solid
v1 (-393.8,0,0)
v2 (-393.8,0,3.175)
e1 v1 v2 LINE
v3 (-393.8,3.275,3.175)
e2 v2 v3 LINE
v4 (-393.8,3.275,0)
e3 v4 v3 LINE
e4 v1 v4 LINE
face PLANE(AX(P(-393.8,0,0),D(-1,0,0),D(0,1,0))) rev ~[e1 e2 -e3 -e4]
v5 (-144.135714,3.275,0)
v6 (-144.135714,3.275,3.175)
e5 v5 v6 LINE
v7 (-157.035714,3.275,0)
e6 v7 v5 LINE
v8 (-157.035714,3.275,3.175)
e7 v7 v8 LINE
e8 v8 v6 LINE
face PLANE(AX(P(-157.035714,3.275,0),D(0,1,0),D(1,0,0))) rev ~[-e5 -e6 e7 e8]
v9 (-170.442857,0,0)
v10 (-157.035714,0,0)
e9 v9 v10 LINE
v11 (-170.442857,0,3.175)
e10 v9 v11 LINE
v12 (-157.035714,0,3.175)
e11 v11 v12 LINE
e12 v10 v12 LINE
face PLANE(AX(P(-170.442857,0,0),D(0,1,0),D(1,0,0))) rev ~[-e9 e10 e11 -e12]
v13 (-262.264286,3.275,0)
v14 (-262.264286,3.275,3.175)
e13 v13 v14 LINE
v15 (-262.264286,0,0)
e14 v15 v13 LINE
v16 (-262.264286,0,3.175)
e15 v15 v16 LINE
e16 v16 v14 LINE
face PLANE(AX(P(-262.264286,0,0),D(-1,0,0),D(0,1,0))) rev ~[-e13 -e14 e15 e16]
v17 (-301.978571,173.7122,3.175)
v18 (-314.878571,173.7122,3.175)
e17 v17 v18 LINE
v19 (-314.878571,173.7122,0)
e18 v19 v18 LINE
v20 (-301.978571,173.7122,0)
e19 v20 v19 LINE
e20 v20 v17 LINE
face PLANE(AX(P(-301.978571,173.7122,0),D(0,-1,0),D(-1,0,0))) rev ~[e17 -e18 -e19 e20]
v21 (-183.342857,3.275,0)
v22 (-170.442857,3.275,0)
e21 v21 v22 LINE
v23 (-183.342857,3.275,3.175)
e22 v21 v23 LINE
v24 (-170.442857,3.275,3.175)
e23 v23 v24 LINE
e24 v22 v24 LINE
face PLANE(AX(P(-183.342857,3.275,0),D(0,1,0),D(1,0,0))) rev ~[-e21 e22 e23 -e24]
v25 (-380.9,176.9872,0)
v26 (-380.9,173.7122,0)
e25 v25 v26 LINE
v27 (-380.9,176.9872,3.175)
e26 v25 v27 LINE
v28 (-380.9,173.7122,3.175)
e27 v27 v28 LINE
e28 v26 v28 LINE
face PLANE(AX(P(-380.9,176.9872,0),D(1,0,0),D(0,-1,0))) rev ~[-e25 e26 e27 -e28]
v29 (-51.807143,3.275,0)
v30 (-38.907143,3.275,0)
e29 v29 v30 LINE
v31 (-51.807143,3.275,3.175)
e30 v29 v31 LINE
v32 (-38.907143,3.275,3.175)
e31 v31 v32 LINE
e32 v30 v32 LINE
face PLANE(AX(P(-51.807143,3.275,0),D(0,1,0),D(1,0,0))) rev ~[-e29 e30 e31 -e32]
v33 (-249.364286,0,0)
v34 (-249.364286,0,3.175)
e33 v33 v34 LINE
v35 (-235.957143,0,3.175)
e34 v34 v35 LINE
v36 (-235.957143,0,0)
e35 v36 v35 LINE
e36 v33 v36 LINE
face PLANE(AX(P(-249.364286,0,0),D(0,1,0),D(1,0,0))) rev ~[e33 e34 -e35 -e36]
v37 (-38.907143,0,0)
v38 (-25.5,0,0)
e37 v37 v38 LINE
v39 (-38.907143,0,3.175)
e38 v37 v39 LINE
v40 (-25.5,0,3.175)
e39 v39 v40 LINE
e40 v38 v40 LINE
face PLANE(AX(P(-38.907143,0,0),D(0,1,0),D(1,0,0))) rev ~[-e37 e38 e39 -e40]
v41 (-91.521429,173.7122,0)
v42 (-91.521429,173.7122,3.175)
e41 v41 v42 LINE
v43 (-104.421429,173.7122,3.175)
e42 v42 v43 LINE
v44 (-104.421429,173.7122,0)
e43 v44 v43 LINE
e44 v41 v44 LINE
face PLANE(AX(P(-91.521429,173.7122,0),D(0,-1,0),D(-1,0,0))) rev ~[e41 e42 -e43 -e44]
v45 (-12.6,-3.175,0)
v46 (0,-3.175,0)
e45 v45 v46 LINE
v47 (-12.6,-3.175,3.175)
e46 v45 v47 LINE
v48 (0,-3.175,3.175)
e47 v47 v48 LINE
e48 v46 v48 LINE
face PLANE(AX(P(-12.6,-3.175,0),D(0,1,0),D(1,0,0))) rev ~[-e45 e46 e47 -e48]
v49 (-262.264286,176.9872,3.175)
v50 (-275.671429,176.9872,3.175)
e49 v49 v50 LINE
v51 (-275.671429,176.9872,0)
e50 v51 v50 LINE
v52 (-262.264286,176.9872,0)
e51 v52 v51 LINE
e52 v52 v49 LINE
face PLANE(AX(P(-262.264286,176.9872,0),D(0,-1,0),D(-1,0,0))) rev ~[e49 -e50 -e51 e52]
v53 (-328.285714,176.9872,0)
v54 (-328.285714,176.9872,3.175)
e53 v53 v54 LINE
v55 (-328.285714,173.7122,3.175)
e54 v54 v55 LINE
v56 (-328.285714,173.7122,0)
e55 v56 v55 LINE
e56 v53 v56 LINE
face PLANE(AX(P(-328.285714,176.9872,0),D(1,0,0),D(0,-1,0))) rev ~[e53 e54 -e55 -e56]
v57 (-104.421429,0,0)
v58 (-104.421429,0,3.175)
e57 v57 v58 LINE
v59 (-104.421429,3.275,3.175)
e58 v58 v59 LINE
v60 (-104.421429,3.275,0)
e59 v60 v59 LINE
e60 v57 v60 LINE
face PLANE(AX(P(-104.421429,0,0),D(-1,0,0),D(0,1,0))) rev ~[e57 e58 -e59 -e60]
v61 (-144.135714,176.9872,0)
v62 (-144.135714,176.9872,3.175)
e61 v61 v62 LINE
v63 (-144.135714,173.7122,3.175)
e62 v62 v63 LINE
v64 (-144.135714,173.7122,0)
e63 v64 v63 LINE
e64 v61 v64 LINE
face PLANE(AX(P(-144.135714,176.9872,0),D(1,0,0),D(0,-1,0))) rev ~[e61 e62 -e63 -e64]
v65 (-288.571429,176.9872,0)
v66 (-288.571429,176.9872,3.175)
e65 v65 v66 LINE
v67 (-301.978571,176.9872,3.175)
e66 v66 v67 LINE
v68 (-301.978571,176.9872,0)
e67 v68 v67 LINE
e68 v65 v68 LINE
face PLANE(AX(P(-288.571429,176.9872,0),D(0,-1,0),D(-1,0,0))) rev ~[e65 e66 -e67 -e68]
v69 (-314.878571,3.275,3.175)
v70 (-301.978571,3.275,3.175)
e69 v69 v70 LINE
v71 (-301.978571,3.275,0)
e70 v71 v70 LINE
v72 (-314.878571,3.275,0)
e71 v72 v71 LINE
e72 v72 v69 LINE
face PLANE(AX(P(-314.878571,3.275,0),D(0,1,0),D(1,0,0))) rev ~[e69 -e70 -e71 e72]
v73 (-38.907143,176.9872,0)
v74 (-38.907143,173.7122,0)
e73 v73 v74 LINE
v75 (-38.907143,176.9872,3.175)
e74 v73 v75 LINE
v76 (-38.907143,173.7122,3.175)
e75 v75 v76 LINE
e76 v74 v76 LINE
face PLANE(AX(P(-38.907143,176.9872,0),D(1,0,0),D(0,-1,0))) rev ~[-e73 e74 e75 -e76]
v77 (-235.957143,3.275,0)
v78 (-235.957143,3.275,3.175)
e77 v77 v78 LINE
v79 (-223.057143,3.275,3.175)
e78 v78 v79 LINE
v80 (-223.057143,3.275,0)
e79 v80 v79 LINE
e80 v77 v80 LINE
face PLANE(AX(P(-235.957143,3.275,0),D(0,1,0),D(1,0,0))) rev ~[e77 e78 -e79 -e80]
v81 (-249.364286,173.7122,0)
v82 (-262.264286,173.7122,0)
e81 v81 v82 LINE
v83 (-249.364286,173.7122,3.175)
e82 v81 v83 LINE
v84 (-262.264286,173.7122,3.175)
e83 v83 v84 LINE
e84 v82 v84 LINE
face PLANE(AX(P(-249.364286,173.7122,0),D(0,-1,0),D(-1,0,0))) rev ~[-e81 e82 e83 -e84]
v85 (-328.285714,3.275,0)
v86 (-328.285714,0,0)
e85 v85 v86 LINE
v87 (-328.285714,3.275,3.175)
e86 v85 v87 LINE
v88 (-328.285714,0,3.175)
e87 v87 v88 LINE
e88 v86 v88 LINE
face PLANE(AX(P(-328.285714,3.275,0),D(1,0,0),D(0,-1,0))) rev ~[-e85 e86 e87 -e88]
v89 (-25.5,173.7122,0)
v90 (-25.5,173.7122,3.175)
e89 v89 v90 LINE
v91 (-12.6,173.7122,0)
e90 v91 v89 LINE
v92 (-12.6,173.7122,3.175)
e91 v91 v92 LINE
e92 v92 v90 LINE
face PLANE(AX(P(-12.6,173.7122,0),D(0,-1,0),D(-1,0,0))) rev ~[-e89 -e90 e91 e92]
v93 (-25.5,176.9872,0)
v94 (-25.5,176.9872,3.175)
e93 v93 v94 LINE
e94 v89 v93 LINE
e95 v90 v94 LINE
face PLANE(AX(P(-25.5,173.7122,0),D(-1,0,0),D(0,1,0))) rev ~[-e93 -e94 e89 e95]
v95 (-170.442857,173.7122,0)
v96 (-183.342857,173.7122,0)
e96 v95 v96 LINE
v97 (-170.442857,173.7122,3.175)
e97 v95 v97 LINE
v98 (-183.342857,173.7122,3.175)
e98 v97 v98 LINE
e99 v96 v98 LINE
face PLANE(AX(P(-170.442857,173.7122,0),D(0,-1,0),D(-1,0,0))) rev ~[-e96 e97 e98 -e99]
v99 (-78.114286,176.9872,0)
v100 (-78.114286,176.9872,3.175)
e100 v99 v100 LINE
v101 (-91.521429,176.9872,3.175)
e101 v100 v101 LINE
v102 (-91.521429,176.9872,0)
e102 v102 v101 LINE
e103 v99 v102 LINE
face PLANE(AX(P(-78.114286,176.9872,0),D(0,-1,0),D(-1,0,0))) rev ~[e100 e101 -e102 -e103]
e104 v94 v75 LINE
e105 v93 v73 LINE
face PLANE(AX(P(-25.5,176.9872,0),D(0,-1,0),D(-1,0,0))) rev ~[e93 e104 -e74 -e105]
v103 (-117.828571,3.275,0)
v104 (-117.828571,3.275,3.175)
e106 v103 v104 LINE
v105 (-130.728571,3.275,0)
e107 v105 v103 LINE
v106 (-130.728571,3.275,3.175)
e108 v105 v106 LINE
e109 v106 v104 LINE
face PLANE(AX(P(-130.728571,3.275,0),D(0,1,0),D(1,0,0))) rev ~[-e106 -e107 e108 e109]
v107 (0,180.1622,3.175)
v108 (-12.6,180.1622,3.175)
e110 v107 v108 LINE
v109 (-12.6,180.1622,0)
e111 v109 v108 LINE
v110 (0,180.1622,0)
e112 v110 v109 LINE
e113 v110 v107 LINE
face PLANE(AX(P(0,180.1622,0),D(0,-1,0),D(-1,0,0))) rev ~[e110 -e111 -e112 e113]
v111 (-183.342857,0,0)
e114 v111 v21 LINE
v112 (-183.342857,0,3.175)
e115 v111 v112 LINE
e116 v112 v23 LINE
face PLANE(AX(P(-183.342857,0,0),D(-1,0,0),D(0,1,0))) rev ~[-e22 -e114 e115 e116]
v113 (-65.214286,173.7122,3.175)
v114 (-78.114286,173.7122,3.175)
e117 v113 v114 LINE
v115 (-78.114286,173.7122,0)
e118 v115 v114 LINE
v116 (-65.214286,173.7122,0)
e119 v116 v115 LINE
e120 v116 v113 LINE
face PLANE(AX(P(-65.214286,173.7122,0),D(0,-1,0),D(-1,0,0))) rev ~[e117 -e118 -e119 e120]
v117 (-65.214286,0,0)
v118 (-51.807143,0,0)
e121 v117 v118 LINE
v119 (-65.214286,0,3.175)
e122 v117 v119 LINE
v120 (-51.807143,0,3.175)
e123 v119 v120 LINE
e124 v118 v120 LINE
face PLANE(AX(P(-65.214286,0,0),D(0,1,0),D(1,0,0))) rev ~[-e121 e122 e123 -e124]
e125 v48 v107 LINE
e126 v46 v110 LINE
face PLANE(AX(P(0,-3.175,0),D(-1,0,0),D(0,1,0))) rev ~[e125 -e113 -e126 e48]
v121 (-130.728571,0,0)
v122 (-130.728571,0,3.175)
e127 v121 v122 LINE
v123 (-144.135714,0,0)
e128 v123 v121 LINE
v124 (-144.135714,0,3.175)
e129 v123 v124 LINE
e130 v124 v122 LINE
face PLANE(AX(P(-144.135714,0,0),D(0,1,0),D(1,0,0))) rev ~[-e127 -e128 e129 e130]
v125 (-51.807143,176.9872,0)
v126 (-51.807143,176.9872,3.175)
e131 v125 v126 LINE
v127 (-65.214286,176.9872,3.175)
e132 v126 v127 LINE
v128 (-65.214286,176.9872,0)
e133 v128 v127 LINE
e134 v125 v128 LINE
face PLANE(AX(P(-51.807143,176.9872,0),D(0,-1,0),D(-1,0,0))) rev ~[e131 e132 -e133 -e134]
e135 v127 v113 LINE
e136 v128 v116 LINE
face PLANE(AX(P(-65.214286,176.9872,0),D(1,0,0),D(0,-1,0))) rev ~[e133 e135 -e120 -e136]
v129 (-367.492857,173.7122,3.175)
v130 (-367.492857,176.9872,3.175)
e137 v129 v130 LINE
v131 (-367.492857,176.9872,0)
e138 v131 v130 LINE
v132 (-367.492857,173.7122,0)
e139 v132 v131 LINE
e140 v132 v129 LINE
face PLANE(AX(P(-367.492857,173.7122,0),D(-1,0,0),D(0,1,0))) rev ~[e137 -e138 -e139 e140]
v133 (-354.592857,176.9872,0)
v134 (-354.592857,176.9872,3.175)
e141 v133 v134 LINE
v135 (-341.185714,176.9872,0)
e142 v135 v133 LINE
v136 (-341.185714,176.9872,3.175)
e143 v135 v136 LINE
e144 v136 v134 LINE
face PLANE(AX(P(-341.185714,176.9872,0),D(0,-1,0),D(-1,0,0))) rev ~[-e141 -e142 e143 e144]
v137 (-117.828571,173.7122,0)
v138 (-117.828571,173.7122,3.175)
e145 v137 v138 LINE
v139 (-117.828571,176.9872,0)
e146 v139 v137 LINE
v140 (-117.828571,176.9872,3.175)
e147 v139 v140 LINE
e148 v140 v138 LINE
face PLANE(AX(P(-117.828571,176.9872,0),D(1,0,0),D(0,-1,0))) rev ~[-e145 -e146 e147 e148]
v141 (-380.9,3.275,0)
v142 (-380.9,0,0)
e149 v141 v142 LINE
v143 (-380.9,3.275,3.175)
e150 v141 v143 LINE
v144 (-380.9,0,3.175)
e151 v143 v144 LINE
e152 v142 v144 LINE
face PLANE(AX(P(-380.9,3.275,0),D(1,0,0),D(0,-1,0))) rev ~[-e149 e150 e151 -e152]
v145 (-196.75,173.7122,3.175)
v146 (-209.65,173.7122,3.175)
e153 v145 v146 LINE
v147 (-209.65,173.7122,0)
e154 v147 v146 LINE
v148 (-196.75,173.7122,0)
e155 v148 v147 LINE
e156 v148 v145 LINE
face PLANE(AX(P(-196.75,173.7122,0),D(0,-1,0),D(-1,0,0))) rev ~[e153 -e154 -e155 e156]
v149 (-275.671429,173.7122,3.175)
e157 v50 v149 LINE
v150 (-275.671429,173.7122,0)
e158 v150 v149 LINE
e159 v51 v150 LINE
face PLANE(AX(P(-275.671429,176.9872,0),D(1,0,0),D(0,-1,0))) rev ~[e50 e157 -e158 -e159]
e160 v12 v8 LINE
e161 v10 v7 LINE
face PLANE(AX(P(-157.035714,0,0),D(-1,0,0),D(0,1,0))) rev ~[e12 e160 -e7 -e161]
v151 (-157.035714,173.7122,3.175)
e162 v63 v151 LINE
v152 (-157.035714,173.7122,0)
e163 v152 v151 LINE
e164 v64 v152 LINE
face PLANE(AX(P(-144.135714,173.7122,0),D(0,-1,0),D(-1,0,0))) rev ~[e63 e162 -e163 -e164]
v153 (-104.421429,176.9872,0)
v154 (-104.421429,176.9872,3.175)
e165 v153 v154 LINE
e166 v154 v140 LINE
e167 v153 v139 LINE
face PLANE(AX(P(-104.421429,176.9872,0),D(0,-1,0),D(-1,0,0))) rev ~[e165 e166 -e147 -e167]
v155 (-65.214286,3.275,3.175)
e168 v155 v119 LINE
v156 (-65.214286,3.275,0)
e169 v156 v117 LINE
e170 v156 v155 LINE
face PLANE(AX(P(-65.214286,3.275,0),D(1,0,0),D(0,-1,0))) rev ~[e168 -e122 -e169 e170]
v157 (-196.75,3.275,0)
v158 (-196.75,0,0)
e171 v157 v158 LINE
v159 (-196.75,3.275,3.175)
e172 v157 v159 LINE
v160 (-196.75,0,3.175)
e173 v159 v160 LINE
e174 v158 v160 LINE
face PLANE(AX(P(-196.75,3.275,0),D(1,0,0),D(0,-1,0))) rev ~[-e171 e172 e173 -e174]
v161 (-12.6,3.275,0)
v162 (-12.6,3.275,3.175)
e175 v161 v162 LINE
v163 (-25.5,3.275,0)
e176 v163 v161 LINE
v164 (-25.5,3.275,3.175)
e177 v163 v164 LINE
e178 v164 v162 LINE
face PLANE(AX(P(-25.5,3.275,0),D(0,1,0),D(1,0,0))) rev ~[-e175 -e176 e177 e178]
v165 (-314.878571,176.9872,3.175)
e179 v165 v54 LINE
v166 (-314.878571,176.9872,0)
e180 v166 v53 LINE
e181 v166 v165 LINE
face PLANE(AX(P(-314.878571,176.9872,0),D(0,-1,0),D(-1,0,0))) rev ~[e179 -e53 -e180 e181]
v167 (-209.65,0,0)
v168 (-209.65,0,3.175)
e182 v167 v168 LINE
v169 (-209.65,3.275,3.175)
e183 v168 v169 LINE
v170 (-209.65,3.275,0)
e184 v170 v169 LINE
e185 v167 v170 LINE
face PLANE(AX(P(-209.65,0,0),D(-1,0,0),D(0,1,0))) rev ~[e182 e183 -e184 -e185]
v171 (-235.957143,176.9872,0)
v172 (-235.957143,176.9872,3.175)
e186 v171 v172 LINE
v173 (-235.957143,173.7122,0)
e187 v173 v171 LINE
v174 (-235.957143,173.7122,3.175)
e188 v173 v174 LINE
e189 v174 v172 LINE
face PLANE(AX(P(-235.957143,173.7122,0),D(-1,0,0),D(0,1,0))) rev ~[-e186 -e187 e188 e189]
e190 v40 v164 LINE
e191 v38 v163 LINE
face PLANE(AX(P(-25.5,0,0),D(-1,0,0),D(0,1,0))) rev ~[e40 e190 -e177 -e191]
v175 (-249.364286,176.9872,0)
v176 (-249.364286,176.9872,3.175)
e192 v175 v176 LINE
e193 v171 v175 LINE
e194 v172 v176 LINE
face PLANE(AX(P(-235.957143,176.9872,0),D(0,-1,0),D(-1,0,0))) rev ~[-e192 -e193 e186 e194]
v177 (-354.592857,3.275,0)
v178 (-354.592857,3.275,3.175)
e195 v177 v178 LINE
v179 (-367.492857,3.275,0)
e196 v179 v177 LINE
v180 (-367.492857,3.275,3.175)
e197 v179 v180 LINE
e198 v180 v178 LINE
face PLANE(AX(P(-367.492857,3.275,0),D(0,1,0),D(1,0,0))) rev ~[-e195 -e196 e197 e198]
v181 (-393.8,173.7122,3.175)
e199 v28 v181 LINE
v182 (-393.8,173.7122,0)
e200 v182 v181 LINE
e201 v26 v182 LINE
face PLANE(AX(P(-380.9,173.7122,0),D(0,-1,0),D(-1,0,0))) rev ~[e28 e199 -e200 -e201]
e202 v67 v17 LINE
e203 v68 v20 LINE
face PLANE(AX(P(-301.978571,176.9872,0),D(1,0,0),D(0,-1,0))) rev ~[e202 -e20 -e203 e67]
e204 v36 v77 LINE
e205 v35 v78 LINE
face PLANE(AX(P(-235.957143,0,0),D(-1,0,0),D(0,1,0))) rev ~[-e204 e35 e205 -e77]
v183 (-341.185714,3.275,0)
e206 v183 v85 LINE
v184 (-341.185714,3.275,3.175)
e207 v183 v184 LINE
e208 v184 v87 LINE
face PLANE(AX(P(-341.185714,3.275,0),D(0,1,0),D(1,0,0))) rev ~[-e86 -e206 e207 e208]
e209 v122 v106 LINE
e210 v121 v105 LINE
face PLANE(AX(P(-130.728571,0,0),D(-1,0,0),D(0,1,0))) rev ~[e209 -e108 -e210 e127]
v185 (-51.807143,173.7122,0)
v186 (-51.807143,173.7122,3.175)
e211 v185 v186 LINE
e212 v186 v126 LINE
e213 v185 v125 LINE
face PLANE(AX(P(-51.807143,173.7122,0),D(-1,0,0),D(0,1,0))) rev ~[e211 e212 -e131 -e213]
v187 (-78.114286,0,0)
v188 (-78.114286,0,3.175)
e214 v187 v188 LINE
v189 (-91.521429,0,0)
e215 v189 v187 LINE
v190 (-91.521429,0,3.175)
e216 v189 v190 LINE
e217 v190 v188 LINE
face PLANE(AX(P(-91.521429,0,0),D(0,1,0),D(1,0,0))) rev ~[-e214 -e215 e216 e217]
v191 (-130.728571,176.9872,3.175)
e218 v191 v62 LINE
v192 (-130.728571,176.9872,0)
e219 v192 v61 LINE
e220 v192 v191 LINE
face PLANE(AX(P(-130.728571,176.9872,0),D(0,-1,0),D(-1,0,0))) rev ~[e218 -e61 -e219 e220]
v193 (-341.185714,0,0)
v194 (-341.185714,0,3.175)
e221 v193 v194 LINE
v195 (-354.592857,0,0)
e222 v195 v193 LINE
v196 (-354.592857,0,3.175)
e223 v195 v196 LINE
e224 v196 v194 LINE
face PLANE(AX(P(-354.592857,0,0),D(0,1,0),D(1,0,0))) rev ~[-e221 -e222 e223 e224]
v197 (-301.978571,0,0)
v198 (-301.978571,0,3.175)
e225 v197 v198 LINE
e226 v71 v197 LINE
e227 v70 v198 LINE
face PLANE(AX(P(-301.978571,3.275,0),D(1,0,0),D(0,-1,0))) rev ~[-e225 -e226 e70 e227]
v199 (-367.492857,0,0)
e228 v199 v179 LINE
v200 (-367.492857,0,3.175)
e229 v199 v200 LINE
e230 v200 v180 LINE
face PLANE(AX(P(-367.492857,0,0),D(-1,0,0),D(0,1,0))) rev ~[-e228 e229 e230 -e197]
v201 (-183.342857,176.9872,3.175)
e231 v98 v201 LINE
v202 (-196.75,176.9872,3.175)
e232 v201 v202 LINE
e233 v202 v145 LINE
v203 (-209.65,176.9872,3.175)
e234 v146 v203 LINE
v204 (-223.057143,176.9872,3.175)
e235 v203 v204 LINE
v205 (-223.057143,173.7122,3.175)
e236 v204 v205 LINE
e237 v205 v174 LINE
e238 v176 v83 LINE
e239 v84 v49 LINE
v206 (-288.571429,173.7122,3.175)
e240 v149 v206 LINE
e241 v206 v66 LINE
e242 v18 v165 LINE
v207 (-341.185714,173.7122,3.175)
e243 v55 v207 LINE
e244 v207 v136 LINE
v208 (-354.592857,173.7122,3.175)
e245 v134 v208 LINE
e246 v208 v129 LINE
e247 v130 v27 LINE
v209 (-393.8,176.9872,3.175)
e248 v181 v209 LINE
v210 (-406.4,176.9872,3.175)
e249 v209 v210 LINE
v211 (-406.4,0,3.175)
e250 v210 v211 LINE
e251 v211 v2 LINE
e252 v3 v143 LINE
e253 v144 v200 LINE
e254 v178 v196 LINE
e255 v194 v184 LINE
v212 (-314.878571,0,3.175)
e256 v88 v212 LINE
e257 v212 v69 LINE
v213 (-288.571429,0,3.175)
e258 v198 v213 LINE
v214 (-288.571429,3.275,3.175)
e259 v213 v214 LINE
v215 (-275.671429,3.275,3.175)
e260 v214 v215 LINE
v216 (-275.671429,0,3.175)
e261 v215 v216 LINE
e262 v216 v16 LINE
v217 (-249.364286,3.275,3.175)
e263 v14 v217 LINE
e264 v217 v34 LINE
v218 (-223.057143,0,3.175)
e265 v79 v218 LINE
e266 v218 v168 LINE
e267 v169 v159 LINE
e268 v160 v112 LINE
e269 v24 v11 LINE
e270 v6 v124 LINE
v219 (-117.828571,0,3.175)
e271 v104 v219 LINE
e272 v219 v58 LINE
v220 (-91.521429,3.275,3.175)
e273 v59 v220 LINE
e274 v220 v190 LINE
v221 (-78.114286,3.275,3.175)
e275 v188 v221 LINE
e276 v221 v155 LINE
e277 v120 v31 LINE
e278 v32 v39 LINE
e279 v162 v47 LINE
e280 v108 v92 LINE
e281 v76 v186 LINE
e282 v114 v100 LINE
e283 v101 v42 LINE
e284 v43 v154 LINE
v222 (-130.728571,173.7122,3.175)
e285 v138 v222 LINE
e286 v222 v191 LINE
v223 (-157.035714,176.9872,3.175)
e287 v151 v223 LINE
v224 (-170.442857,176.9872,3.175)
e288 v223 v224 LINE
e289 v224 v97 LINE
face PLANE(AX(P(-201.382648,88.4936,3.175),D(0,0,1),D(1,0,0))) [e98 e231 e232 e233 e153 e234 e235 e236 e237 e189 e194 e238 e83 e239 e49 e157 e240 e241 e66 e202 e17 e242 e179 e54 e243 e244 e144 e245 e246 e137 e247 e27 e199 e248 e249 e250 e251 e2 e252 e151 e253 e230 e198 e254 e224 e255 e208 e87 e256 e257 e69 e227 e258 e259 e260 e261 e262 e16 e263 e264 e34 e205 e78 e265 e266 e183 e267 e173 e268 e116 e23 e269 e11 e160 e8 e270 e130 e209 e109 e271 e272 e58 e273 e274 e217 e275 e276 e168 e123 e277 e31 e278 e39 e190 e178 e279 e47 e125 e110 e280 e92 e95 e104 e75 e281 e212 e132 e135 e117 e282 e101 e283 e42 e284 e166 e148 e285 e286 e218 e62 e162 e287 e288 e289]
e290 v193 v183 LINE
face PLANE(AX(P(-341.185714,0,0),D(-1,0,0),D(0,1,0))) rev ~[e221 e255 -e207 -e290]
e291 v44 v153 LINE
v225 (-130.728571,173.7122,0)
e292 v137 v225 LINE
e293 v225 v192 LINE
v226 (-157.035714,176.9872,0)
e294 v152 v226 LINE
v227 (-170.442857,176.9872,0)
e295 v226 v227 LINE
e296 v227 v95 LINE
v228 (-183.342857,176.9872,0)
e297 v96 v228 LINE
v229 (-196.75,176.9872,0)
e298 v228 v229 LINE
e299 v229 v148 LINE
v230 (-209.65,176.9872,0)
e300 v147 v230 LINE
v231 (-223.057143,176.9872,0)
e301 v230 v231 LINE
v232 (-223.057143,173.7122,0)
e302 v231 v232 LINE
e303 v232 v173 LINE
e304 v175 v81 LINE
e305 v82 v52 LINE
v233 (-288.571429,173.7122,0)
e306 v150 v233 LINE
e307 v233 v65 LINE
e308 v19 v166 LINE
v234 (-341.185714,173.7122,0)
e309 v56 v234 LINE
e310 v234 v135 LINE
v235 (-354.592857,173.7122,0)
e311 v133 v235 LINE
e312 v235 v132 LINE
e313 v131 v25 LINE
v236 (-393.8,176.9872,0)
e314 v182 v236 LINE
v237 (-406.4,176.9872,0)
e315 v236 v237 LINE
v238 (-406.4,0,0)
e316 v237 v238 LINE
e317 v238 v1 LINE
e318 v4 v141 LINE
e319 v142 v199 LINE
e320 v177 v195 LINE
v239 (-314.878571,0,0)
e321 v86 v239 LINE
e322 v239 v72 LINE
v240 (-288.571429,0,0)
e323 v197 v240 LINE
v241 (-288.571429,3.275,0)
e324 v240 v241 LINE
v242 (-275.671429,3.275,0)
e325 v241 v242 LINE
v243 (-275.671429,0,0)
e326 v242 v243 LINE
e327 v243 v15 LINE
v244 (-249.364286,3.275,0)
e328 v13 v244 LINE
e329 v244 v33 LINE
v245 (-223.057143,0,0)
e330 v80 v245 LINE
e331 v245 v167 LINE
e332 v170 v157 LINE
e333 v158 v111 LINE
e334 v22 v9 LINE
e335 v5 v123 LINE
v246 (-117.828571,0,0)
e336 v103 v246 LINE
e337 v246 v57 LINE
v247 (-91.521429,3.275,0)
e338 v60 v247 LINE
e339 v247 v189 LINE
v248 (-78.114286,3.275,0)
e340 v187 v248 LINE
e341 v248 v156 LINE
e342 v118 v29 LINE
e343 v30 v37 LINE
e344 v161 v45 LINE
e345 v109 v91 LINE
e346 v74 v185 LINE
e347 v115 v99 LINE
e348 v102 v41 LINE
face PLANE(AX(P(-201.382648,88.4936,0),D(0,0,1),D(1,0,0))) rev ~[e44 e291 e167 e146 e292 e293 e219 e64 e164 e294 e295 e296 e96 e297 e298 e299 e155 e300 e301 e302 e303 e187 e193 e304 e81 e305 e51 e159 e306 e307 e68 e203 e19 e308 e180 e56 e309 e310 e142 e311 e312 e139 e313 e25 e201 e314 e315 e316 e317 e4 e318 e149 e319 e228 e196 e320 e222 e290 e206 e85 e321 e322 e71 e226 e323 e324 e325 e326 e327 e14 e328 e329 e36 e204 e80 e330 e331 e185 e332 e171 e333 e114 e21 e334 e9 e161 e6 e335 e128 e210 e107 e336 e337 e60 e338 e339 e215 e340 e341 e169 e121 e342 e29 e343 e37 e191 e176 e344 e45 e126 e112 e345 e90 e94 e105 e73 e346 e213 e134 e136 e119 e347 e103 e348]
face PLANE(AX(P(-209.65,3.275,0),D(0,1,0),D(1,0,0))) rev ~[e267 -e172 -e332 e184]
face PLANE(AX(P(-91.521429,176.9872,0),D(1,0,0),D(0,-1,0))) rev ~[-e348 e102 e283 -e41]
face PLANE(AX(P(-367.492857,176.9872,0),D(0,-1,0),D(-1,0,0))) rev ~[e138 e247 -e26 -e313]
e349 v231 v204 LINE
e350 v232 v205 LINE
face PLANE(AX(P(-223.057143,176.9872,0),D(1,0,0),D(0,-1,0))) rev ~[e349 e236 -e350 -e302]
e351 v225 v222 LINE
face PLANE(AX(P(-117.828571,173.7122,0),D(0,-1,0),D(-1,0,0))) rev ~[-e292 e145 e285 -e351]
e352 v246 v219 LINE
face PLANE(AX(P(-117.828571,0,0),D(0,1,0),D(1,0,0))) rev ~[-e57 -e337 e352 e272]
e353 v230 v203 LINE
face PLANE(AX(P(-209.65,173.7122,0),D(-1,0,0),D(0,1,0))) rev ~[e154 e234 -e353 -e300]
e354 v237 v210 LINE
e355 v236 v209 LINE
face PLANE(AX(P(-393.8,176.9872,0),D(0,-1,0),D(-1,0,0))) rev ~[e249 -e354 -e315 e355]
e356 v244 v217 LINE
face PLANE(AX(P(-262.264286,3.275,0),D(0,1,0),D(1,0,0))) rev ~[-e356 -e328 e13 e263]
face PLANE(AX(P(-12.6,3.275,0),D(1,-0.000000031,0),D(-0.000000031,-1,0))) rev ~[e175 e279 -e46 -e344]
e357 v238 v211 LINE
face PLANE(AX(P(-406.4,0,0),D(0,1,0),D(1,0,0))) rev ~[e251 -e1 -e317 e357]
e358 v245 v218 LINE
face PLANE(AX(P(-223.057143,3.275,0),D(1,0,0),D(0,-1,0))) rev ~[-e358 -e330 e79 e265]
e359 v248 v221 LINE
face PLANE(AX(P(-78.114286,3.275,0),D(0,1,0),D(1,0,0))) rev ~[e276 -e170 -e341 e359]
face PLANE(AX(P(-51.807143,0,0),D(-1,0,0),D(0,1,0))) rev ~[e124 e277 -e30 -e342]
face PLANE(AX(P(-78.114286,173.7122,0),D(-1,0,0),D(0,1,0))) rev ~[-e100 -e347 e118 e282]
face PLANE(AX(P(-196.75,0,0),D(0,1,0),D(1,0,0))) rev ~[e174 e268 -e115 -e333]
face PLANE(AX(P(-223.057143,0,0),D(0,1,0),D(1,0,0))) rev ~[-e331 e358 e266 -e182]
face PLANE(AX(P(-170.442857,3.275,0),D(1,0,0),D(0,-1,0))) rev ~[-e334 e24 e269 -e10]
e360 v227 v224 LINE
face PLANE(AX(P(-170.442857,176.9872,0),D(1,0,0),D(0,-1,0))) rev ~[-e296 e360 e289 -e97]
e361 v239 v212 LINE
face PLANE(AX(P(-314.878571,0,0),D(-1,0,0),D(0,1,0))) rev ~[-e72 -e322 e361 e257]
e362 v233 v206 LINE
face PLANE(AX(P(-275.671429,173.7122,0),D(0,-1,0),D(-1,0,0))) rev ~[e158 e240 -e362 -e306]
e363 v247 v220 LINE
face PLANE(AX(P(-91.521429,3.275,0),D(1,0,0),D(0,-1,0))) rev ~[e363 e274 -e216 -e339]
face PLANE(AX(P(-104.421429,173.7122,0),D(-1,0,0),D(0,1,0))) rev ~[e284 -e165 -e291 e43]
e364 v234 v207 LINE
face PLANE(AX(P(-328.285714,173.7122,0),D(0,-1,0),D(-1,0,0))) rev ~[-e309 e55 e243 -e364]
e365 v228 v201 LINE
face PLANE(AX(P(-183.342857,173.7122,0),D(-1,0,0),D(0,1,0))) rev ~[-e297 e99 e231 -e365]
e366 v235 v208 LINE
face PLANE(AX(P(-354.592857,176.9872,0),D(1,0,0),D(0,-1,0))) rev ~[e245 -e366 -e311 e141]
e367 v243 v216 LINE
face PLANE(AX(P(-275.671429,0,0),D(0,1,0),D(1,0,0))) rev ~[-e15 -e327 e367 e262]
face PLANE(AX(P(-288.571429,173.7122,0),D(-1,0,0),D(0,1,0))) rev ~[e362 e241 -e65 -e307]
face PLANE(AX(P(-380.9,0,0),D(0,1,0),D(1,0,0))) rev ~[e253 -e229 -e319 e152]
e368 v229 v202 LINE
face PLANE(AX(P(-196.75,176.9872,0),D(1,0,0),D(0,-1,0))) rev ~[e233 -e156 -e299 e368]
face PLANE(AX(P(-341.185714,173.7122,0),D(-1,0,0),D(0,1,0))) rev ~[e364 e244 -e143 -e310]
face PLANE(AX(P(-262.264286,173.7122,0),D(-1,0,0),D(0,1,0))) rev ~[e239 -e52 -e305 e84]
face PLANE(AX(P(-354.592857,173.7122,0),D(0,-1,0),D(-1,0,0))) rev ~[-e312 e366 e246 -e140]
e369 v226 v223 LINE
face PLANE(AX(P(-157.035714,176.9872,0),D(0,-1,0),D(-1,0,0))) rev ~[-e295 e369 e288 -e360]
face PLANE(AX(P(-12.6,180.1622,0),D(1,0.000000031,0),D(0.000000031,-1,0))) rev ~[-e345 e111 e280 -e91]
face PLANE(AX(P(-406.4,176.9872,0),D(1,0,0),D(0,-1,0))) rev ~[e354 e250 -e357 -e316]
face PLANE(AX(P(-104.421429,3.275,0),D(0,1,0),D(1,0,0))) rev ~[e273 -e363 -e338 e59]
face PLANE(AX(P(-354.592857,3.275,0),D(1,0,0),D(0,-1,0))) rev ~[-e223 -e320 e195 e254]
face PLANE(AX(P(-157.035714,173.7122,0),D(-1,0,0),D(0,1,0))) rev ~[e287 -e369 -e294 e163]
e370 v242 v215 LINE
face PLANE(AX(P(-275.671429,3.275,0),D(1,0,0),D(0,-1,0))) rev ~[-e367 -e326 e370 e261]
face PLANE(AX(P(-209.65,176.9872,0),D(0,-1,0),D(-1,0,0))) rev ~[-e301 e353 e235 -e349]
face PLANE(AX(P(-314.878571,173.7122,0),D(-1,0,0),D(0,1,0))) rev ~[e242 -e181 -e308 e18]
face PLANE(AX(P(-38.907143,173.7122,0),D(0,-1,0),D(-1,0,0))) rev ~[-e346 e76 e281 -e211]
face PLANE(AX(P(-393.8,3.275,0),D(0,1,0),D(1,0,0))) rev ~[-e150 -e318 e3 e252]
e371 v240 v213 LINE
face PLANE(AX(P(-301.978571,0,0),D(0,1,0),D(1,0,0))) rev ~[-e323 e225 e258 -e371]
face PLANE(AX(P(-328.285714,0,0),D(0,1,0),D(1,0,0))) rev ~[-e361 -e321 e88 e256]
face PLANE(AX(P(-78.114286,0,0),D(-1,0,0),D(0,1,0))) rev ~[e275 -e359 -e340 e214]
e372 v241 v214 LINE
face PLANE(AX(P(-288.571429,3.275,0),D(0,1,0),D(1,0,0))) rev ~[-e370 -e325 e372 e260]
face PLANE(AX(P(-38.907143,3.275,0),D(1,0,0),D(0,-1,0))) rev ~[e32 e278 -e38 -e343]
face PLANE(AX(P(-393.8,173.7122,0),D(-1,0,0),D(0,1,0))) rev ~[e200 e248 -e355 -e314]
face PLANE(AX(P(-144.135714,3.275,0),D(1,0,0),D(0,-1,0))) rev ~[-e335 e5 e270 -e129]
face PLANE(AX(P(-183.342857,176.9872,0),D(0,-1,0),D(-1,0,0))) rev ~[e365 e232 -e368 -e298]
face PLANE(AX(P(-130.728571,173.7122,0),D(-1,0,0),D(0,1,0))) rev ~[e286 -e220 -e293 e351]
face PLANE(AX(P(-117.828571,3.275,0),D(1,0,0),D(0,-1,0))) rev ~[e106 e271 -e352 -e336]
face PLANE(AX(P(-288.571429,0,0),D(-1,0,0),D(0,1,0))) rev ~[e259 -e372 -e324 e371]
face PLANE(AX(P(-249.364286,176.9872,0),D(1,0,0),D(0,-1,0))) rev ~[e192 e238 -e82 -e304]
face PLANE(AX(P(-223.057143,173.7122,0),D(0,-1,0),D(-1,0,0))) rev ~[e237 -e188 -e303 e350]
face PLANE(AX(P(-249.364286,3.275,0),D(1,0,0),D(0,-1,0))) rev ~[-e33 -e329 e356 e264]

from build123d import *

# Parameters (mm, degrees)
BOSS_EXTRUDE1_DEPTH = 3.175


with BuildPart() as part:
    # Sketch1 → Boss-Extrude1 (new body)
    with BuildSketch(Plane.XY):
        Polygon((-12.6, 173.7122), (-25.5, 173.7122), (-25.5, 176.9872), (-38.907142857, 176.9872), (-38.907142857, 173.7122), (-51.807142857, 173.7122), (-51.807142857, 176.9872), (-65.214285714, 176.9872), (-65.214285714, 173.7122), (-78.114285714, 173.7122), (-78.114285714, 176.9872), (-91.521428571, 176.9872), (-91.521428571, 173.7122), (-104.421428571, 173.7122), (-104.421428571, 176.9872), (-117.828571429, 176.9872), (-117.828571429, 173.7122), (-130.728571429, 173.7122), (-130.728571429, 176.9872), (-144.135714286, 176.9872), (-144.135714286, 173.7122), (-157.035714286, 173.7122), (-157.035714286, 176.9872), (-170.442857143, 176.9872), (-170.442857143, 173.7122), (-183.342857143, 173.7122), (-183.342857143, 176.9872), (-196.75, 176.9872), (-196.75, 173.7122), (-209.65, 173.7122), (-209.65, 176.9872), (-223.057142857, 176.9872), (-223.057142857, 173.7122), (-235.957142857, 173.7122), (-235.957142857, 176.9872), (-249.364285714, 176.9872), (-249.364285714, 173.7122), (-262.264285714, 173.7122), (-262.264285714, 176.9872), (-275.671428571, 176.9872), (-275.671428571, 173.7122), (-288.571428571, 173.7122), (-288.571428571, 176.9872), (-301.978571429, 176.9872), (-301.978571429, 173.7122), (-314.878571429, 173.7122), (-314.878571429, 176.9872), (-328.285714286, 176.9872), (-328.285714286, 173.7122), (-341.185714286, 173.7122), (-341.185714286, 176.9872), (-354.592857143, 176.9872), (-354.592857143, 173.7122), (-367.492857143, 173.7122), (-367.492857143, 176.9872), (-380.9, 176.9872), (-380.9, 173.7122), (-393.8, 173.7122), (-393.8, 176.9872), (-406.4, 176.9872), (-406.4, 0), (-393.8, 0), (-393.8, 3.275), (-380.9, 3.275), (-380.9, 0), (-367.492857143, 0), (-367.492857143, 3.275), (-354.592857143, 3.275), (-354.592857143, 0), (-341.185714286, 0), (-341.185714286, 3.275), (-328.285714286, 3.275), (-328.285714286, 0), (-314.878571429, 0), (-314.878571429, 3.275), (-301.978571429, 3.275), (-301.978571429, 0), (-288.571428571, 0), (-288.571428571, 3.275), (-275.671428571, 3.275), (-275.671428571, 0), (-262.264285714, 0), (-262.264285714, 3.275), (-249.364285714, 3.275), (-249.364285714, 0), (-235.957142857, 0), (-235.957142857, 3.275), (-223.057142857, 3.275), (-223.057142857, 0), (-209.65, 0), (-209.65, 3.275), (-196.75, 3.275), (-196.75, 0), (-183.342857143, 0), (-183.342857143, 3.275), (-170.442857143, 3.275), (-170.442857143, 0), (-157.035714286, 0), (-157.035714286, 3.275), (-144.135714286, 3.275), (-144.135714286, 0), (-130.728571429, 0), (-130.728571429, 3.275), (-117.828571429, 3.275), (-117.828571429, 0), (-104.421428571, 0), (-104.421428571, 3.275), (-91.521428571, 3.275), (-91.521428571, 0), (-78.114285714, 0), (-78.114285714, 3.275), (-65.214285714, 3.275), (-65.214285714, 0), (-51.807142857, 0), (-51.807142857, 3.275), (-38.907142857, 3.275), (-38.907142857, 0), (-25.5, 0), (-25.5, 3.275), (-12.6, 3.275), (-12.6000002, -3.175), (0, -3.175), (0, 180.1622), (-12.6000002, 180.1622), align=None)
    extrude(amount=BOSS_EXTRUDE1_DEPTH)


solid = part.part
